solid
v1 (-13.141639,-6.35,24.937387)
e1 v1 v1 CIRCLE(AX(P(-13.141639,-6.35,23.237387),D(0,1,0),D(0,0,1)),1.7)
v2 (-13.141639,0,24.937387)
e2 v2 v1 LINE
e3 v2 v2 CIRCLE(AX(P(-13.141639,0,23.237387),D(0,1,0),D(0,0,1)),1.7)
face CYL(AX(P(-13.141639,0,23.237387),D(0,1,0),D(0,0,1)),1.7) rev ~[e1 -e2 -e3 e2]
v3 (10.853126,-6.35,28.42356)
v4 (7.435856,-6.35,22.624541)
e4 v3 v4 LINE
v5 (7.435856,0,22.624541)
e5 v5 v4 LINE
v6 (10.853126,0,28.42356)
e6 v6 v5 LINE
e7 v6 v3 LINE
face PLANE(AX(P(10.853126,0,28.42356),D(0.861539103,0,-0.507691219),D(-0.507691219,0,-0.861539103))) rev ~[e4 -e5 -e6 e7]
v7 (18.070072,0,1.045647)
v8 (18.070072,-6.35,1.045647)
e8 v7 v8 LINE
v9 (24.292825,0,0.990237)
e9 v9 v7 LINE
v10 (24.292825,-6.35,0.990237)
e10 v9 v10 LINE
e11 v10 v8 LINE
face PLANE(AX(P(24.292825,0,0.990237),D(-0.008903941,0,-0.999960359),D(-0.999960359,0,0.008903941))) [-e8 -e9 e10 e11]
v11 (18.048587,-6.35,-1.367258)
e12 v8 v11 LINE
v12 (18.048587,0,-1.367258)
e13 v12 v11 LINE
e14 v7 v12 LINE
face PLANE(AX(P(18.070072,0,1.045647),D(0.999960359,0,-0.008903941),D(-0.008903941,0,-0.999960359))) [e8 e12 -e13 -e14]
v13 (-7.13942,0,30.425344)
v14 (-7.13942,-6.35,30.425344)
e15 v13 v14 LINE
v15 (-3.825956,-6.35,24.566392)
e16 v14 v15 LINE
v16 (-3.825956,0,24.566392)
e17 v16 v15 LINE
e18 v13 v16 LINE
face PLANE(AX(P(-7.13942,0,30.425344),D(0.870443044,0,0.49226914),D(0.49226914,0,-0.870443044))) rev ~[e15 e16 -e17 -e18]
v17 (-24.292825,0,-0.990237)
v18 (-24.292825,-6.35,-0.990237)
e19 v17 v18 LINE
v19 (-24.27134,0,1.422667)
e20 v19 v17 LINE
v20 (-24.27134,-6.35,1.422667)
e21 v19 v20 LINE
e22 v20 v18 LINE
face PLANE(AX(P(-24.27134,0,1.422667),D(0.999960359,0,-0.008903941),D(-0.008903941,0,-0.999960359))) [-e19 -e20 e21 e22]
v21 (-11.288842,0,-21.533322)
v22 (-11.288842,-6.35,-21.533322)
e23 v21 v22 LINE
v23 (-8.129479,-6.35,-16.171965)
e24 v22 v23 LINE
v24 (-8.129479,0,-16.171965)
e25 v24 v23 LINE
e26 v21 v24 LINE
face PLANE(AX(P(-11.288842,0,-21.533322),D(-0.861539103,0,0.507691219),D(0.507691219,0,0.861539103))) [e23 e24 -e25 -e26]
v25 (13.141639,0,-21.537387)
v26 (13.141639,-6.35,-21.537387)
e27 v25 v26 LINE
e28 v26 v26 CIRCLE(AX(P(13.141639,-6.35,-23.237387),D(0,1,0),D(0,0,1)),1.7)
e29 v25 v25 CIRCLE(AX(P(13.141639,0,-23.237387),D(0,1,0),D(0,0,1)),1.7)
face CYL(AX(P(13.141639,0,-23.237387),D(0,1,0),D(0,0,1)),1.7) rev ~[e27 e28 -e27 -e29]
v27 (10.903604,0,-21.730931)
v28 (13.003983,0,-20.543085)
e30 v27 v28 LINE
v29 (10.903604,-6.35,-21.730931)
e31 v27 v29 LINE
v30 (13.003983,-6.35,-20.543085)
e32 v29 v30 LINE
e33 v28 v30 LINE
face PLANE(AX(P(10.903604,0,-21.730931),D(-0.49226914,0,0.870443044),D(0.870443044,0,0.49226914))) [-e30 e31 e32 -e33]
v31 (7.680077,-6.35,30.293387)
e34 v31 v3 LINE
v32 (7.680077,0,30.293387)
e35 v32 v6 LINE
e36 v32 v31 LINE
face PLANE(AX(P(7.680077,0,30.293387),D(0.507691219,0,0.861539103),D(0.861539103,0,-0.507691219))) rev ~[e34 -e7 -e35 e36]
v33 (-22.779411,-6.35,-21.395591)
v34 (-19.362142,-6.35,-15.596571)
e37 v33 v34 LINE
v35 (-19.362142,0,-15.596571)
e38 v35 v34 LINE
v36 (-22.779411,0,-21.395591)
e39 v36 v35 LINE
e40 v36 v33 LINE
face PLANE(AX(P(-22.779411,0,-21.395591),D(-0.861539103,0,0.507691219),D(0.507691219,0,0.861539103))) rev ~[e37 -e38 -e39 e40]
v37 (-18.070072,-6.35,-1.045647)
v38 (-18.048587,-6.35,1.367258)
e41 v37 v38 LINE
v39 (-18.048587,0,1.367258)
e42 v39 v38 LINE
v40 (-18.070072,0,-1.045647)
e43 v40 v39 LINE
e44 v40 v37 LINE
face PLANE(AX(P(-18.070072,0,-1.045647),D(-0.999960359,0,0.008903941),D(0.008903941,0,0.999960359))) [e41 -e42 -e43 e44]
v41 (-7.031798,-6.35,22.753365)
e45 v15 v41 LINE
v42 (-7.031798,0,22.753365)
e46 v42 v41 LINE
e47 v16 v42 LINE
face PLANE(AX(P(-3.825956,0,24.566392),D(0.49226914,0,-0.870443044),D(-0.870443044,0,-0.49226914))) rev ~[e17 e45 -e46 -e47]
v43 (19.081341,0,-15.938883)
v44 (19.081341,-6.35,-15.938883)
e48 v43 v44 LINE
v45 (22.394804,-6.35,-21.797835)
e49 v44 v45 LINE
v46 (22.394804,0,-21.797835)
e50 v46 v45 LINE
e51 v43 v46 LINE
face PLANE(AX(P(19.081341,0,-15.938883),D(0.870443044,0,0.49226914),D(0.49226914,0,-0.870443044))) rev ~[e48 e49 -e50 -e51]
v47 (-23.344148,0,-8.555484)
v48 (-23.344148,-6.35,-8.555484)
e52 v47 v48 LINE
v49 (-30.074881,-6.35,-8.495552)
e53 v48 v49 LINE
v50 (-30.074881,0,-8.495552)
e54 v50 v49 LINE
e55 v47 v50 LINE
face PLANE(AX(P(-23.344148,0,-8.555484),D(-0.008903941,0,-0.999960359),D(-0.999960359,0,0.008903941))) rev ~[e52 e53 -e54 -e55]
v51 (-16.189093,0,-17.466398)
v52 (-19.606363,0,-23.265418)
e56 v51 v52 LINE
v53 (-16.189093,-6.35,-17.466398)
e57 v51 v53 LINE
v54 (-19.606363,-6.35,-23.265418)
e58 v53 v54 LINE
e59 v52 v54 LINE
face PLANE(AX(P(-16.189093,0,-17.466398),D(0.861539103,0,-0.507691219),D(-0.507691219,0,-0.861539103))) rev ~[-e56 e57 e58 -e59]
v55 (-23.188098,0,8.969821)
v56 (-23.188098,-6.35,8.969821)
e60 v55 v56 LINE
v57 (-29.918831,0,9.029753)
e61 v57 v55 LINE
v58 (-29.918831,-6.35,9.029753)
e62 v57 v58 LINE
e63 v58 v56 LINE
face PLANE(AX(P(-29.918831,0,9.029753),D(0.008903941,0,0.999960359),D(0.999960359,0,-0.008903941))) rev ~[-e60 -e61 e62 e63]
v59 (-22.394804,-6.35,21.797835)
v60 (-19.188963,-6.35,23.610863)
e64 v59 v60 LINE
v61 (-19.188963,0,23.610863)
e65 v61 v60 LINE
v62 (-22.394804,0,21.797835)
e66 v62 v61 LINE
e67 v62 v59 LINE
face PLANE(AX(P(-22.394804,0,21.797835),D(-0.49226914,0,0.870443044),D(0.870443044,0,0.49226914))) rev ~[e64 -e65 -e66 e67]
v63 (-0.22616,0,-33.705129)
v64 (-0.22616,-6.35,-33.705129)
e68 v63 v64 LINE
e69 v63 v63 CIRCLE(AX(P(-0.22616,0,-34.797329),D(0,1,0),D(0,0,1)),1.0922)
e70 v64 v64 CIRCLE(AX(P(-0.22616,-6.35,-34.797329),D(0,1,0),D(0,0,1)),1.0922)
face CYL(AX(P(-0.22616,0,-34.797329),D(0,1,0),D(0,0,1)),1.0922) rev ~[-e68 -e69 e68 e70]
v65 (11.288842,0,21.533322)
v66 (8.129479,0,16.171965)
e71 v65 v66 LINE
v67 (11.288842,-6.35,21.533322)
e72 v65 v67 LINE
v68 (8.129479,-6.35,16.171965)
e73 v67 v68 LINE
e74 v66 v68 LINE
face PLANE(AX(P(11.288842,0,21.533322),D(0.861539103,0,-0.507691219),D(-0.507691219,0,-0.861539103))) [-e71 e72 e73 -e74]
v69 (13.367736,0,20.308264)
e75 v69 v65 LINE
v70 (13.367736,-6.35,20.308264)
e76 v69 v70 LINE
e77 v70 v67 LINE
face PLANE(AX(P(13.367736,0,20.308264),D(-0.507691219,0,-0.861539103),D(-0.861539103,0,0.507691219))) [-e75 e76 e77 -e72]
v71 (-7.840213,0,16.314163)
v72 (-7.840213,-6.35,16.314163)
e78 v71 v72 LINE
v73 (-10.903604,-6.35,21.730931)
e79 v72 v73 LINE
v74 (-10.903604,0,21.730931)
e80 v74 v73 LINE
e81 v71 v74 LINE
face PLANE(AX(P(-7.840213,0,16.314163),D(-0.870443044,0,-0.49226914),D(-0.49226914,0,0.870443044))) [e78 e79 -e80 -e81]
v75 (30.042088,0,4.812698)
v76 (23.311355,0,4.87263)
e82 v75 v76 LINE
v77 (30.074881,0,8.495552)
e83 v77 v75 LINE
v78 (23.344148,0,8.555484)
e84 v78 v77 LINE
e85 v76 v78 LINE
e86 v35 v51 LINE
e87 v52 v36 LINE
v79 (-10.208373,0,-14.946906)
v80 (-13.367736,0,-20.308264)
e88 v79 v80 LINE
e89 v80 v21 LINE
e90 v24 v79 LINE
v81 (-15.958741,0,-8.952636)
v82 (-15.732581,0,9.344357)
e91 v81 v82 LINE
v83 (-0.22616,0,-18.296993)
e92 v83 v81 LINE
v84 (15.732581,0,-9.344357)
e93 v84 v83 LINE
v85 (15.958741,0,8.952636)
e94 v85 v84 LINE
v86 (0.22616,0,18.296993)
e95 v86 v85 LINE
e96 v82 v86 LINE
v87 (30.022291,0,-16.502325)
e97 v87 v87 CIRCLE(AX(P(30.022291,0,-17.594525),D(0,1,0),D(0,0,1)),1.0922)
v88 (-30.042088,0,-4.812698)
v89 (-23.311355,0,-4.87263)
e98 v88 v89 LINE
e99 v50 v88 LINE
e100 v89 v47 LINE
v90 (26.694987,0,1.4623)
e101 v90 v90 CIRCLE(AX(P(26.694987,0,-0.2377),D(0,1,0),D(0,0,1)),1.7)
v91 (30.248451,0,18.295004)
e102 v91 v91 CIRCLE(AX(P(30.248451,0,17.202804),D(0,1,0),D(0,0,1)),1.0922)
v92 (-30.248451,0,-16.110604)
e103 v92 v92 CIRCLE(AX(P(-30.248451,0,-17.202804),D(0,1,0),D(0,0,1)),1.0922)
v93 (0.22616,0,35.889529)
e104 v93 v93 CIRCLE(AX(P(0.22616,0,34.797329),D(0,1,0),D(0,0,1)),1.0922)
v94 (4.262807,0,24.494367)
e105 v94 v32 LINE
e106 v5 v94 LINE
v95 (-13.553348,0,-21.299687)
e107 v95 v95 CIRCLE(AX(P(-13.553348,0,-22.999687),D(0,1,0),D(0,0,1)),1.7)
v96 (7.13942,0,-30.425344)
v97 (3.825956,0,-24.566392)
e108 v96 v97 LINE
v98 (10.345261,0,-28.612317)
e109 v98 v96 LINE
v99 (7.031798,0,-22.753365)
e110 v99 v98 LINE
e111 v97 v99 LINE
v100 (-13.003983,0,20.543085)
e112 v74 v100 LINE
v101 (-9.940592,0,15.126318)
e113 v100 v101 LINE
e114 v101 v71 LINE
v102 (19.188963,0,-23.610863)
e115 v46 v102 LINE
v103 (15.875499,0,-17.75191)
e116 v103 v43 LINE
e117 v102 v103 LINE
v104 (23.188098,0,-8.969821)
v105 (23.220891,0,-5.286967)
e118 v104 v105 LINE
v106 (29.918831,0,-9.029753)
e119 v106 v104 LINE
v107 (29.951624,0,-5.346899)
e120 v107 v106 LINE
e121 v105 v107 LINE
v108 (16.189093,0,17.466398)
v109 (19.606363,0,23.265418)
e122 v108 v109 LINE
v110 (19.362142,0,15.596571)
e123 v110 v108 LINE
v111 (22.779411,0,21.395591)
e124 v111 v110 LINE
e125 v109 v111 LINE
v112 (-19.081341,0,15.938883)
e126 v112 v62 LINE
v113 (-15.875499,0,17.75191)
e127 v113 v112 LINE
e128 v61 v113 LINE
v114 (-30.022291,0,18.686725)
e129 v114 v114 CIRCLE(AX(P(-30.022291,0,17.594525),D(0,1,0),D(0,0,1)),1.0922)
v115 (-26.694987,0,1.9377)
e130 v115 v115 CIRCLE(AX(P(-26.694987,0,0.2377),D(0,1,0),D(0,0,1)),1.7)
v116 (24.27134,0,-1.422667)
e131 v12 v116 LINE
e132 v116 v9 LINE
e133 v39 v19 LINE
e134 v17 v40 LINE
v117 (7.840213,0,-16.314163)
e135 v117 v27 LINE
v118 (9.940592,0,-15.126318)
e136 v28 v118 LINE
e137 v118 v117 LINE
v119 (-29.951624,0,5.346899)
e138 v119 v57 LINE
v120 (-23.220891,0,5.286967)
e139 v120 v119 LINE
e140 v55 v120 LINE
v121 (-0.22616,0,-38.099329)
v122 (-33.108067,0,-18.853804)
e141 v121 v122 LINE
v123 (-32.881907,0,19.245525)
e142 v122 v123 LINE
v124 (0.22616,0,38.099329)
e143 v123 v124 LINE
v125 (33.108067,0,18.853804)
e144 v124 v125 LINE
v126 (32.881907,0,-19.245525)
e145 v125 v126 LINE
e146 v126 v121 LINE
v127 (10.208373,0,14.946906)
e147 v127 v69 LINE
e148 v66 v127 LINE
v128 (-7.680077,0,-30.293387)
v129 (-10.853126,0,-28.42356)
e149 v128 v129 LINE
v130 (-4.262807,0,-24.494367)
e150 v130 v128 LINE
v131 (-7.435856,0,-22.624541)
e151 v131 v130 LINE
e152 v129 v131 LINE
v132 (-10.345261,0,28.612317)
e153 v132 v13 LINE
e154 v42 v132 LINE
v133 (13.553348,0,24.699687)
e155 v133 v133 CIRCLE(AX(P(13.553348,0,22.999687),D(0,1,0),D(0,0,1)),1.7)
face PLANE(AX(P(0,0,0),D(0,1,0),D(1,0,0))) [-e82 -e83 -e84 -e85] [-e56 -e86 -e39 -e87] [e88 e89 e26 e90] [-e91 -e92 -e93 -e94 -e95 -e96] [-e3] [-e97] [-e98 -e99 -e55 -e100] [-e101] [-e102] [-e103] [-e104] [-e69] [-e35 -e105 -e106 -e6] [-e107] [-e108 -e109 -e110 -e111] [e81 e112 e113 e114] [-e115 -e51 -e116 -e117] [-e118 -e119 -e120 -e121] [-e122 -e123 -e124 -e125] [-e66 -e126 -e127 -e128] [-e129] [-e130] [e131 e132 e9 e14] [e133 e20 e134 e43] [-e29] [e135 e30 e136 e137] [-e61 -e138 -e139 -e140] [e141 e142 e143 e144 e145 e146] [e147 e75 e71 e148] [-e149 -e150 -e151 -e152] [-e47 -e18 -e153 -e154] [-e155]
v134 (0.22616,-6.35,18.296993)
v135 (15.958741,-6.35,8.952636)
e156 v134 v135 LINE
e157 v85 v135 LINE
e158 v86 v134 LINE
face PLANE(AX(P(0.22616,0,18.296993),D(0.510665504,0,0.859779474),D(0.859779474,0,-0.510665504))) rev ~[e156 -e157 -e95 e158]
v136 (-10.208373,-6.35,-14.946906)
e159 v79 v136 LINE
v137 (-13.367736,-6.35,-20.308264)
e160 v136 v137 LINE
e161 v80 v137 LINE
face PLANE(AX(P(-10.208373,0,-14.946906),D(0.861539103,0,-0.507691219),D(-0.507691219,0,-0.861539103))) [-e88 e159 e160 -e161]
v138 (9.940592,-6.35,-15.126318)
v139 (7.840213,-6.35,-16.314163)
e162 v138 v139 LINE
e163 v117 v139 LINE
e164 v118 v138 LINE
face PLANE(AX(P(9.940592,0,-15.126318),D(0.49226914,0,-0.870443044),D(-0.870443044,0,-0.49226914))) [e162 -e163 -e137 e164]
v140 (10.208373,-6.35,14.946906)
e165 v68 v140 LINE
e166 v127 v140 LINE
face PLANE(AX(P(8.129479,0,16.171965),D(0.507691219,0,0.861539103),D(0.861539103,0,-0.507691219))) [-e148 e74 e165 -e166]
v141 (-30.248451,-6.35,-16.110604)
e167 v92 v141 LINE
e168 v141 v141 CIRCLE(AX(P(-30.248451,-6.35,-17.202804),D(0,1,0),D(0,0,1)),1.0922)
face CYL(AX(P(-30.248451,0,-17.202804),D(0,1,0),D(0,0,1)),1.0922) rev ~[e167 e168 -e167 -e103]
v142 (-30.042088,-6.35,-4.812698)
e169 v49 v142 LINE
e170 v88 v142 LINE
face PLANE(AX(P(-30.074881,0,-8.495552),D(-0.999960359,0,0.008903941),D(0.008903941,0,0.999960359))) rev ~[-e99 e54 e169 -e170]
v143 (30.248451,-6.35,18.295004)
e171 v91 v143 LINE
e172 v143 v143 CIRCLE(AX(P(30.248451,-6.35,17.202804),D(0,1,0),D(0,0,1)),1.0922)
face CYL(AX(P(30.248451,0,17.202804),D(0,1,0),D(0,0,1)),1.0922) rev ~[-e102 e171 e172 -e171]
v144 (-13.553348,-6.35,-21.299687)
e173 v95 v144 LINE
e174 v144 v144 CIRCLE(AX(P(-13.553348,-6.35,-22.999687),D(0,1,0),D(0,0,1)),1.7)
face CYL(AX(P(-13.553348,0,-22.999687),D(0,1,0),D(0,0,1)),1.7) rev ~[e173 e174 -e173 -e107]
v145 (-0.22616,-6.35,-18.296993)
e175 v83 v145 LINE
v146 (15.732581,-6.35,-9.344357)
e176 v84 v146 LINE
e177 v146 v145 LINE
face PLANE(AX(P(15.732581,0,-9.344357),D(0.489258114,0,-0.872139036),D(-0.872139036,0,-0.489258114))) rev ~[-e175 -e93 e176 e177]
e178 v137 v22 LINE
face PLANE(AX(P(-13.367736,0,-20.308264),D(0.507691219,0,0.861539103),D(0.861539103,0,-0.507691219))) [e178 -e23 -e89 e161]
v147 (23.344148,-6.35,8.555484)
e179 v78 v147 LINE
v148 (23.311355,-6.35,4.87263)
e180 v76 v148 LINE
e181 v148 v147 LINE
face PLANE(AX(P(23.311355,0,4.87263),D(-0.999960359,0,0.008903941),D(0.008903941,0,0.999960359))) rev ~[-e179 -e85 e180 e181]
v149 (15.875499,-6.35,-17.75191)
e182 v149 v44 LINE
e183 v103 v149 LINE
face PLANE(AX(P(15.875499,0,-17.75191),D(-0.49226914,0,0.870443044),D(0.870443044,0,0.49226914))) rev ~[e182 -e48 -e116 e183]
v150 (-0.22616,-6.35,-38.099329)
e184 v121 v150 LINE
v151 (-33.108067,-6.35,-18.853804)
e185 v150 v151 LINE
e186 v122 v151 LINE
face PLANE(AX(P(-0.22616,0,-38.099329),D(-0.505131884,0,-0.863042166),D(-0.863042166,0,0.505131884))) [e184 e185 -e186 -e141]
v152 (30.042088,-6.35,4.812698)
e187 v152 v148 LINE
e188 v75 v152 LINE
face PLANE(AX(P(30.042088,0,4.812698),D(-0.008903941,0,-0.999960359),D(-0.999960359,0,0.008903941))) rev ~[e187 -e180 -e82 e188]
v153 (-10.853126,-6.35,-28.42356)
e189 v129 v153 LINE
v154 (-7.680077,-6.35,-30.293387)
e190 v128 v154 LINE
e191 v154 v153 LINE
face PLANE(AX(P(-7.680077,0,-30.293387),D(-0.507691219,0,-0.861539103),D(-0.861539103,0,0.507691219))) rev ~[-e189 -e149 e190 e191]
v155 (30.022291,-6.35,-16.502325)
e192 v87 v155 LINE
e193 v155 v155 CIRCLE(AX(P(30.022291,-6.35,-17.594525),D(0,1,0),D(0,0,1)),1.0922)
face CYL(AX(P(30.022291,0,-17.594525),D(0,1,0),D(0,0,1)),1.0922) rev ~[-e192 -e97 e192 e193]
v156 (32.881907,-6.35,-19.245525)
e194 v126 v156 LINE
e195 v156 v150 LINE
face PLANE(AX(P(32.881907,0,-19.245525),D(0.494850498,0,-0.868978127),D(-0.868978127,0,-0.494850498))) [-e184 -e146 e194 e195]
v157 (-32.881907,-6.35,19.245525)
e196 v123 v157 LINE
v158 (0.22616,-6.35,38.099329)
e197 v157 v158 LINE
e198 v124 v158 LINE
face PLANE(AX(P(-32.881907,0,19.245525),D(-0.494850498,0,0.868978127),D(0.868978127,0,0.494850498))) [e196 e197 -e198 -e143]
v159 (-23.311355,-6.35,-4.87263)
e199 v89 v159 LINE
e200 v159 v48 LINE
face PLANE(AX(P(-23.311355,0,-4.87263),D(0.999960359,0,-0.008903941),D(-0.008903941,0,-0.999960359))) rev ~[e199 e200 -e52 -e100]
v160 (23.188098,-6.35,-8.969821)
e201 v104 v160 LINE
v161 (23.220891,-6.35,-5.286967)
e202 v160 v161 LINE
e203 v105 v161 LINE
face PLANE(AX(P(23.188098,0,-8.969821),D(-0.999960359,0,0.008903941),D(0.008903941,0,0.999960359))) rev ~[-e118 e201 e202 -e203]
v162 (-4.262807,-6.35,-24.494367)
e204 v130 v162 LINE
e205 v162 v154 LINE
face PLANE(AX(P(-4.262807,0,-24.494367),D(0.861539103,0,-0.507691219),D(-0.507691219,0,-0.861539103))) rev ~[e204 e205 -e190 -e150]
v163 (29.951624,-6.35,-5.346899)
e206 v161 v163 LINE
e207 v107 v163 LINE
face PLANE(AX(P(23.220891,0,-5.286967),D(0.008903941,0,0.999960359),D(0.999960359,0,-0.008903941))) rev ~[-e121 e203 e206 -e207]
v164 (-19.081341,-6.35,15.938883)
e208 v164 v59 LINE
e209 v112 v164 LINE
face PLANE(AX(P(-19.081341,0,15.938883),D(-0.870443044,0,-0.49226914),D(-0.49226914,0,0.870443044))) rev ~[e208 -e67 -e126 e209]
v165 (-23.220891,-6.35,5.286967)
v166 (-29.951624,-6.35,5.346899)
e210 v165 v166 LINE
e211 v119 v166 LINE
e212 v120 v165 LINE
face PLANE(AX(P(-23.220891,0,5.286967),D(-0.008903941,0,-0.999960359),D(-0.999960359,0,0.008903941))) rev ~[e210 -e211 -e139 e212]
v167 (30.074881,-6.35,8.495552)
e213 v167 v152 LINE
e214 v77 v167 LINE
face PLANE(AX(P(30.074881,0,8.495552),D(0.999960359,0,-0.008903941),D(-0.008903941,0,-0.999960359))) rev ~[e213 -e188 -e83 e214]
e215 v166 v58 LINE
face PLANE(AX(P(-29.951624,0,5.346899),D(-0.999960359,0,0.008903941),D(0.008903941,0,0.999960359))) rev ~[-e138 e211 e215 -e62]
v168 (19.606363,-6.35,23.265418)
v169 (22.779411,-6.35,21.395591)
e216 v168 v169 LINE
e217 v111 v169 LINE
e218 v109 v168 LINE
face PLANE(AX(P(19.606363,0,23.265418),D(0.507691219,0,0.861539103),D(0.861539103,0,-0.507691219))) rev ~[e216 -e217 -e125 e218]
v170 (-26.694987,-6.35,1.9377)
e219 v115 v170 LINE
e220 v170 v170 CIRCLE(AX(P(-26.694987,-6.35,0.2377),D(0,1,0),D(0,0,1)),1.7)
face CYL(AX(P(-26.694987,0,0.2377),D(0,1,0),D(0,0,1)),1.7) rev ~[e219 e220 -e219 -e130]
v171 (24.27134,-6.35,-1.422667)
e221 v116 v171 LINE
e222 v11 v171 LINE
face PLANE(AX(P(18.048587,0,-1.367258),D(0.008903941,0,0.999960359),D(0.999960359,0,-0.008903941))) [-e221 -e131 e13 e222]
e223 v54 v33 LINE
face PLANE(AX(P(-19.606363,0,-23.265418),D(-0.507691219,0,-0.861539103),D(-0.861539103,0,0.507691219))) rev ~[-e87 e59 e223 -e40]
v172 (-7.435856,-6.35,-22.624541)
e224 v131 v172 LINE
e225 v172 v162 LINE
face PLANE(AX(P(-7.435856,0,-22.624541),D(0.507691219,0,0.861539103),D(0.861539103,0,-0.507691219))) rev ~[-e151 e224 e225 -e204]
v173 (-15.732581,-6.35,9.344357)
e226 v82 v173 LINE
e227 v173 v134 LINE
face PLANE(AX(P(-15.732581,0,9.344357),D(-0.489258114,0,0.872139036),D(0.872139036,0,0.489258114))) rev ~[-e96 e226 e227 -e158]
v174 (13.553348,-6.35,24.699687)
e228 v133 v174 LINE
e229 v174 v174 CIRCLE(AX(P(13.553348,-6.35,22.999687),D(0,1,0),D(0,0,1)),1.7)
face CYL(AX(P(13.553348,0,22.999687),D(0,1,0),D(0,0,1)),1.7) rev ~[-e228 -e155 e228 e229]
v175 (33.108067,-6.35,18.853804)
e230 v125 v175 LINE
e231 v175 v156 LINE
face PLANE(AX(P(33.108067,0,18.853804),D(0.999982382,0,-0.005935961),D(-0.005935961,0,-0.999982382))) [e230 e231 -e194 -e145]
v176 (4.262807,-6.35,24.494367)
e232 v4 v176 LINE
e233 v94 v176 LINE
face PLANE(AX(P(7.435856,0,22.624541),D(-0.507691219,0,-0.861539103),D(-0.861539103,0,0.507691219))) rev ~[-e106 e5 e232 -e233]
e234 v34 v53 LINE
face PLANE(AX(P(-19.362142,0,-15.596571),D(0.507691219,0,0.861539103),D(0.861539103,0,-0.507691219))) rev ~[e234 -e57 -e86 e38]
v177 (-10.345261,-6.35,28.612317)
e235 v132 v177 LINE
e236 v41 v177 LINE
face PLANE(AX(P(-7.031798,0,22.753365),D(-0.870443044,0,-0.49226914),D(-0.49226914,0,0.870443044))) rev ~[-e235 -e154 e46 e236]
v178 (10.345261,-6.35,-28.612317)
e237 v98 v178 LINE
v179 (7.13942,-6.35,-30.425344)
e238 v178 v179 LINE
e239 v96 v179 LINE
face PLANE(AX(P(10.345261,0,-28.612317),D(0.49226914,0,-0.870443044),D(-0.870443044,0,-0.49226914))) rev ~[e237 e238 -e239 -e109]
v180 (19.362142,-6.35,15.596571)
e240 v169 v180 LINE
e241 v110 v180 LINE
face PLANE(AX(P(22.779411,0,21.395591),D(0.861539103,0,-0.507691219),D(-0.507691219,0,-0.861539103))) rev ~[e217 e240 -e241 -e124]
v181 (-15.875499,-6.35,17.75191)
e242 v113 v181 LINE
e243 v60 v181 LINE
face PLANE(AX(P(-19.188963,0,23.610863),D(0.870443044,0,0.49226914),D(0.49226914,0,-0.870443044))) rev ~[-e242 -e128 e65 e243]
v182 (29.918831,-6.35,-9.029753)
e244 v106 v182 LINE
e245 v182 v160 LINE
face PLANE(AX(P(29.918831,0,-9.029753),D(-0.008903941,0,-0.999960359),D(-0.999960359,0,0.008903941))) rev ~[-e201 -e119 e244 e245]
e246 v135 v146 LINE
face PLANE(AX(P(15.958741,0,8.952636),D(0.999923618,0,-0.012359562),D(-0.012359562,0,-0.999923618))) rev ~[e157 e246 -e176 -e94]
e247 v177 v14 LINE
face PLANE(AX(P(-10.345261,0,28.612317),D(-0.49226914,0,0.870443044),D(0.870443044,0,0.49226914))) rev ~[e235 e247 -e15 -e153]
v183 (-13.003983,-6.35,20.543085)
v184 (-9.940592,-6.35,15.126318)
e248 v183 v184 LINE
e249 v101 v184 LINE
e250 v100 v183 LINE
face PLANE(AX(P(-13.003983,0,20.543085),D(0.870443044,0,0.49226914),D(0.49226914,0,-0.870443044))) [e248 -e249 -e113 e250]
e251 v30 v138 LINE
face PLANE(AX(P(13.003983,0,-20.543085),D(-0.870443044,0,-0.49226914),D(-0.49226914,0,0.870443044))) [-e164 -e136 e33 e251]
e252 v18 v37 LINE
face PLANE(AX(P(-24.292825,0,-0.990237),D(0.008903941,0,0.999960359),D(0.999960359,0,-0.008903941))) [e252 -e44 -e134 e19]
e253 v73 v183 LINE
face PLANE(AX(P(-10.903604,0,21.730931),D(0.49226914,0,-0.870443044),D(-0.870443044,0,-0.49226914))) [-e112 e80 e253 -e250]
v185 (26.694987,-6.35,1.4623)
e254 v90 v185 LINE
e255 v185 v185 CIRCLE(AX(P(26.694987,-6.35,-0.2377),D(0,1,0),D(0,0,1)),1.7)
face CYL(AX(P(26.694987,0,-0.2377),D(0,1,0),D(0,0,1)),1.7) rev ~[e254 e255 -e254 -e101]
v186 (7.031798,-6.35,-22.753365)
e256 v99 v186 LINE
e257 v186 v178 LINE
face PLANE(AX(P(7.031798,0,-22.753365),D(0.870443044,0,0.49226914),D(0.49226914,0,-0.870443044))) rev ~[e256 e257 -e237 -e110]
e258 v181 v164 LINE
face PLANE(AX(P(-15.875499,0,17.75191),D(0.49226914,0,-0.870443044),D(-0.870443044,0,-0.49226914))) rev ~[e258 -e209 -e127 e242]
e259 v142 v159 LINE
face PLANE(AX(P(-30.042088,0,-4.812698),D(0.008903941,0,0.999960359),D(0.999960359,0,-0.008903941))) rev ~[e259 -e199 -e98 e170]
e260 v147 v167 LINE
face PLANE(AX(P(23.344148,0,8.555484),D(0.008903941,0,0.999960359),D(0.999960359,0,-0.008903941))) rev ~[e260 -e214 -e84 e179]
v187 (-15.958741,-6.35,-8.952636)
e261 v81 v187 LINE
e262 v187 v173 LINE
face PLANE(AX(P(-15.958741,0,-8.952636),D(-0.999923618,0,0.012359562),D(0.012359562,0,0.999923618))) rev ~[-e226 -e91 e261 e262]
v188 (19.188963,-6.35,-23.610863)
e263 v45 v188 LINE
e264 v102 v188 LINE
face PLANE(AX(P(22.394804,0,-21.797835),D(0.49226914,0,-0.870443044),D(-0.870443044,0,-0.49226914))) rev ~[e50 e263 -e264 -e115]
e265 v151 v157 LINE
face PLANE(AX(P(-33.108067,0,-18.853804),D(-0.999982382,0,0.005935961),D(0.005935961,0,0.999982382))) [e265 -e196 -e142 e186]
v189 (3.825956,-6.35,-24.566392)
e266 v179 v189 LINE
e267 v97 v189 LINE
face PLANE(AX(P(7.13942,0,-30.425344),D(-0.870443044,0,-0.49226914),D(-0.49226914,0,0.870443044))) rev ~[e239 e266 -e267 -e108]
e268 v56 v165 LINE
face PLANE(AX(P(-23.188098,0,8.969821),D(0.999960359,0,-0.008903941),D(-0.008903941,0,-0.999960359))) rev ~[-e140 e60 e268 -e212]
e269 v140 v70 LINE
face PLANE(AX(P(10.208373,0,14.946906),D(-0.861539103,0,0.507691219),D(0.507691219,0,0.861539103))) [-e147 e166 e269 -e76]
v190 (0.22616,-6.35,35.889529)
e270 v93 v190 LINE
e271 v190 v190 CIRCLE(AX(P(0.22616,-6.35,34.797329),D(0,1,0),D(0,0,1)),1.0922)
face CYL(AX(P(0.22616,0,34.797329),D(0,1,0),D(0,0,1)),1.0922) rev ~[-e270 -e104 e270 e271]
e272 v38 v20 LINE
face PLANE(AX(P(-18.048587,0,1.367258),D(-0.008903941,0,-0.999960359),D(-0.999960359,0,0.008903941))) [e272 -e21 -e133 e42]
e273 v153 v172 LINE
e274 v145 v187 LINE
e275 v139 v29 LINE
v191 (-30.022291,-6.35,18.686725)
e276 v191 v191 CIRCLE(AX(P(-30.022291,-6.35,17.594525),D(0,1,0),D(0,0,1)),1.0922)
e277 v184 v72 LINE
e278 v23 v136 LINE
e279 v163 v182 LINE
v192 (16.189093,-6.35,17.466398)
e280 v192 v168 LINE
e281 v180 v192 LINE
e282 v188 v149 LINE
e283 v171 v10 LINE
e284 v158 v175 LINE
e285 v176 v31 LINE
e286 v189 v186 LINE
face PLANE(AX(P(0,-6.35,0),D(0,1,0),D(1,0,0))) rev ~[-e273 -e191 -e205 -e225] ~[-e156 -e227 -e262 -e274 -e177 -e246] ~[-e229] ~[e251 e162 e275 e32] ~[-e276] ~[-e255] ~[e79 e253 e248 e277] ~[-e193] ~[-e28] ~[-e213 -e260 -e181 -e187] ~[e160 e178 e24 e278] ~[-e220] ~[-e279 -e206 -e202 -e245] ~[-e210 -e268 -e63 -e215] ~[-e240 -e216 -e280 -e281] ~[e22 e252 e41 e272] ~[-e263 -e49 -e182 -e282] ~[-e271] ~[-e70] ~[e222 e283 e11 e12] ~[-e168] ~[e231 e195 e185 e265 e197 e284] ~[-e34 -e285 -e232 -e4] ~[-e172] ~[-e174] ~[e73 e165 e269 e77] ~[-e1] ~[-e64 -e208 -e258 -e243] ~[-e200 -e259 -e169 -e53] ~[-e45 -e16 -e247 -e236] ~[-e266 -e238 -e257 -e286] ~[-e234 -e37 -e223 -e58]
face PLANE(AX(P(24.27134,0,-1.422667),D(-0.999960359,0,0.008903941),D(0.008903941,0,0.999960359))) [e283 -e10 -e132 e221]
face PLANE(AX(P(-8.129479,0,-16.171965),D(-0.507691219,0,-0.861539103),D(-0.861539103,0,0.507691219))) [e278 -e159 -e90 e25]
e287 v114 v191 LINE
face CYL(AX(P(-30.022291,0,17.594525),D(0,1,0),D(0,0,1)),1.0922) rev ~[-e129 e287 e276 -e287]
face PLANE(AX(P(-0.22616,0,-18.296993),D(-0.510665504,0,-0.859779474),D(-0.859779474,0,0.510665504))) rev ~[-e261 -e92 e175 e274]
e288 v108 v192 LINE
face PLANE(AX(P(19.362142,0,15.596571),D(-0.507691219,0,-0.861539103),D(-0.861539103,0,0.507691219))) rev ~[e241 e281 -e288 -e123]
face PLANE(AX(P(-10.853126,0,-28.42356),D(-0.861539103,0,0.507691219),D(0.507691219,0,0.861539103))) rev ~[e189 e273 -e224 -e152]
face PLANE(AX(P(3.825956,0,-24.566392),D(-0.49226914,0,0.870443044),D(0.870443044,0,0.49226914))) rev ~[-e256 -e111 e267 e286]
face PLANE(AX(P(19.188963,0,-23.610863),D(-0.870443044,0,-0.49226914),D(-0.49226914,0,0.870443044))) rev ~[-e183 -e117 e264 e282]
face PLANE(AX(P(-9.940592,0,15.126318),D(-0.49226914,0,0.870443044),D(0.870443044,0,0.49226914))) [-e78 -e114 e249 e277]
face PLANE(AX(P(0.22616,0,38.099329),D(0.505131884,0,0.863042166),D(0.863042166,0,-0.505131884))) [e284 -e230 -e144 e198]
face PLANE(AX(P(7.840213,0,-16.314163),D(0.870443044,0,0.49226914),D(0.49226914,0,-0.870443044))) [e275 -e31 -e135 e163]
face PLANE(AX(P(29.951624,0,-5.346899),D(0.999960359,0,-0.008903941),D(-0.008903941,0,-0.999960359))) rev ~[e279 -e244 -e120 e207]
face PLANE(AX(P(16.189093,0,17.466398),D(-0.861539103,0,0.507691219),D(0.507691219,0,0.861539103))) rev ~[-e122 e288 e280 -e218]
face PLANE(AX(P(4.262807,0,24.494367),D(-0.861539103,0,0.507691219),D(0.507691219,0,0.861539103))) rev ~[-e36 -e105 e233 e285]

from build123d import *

# Parameters (mm, degrees)
SKETCH1_R           = 1.7
SKETCH1_R_2         = 1.0922
BOSS_EXTRUDE1_DEPTH = 6.35


with BuildPart() as part:
    # Sketch1 → Boss-Extrude1 (new body)
    with BuildSketch(Plane(origin=(0, 0, 0), x_dir=(1, 0, 0), z_dir=(0, 1, 0))):
        Polygon((33.108066621, -18.853803983), (32.881906518, 19.245524772), (-0.226160103, 38.099328755), (-33.108066621, 18.853803983), (-32.881906518, -19.245524772), (0.226160103, -38.099328755), align=None)
        Polygon((18.048586735, 1.367257752), (24.27134005, 1.422666977), (24.29282526, -0.990237369), (18.070071945, -1.045646595), align=None, mode=Mode.SUBTRACT)
        Polygon((10.208373314, -14.946905739), (13.367735769, -20.308263579), (11.288841912, -21.53332249), (8.129479458, -16.17196465), align=None, mode=Mode.SUBTRACT)
        Polygon((-7.840213421, -16.314163491), (-10.903604282, -21.730930556), (-13.003983348, -20.54308512), (-9.940592487, -15.126318055), align=None, mode=Mode.SUBTRACT)
        Polygon((-18.048586735, -1.367257752), (-24.27134005, -1.422666977), (-24.29282526, 0.990237369), (-18.070071945, 1.045646595), align=None, mode=Mode.SUBTRACT)
        Polygon((-10.208373314, 14.946905739), (-13.367735769, 20.308263579), (-11.288841912, 21.53332249), (-8.129479458, 16.17196465), align=None, mode=Mode.SUBTRACT)
        Polygon((7.840213421, 16.314163491), (10.903604282, 21.730930556), (13.003983348, 20.54308512), (9.940592487, 15.126318055), align=None, mode=Mode.SUBTRACT)
        Polygon((-0.226160103, 18.296993457), (15.732581095, 9.344357123), (15.958741198, -8.952636334), (0.226160103, -18.296993457), (-15.732581095, -9.344357123), (-15.958741198, 8.952636334), align=None, mode=Mode.SUBTRACT)
        Polygon((-19.081340765, -15.938883228), (-15.875499033, -17.751910472), (-19.188962617, -23.610862603), (-22.394804349, -21.797835359), align=None, mode=Mode.SUBTRACT)
        with Locations((-13.14163925, -23.237386904)):
            Circle(SKETCH1_R, mode=Mode.SUBTRACT)
        Polygon((-7.031797703, -22.753364938), (-3.825955971, -24.566392182), (-7.139419555, -30.425344314), (-10.345261287, -28.61231707), align=None, mode=Mode.SUBTRACT)
        with Locations((-30.022290634, -17.594524772)):
            Circle(SKETCH1_R_2, mode=Mode.SUBTRACT)
        Polygon((-23.22089091, -5.286967024), (-23.188097695, -8.969821027), (-29.918830872, -9.029753454), (-29.951624087, -5.346899452), align=None, mode=Mode.SUBTRACT)
        with Locations((-26.694987002, -0.237700014)):
            Circle(SKETCH1_R, mode=Mode.SUBTRACT)
        with Locations((0.226160103, -34.797328755)):
            Circle(SKETCH1_R_2, mode=Mode.SUBTRACT)
        Polygon((4.262807401, -24.494367455), (7.435855918, -22.624540696), (10.853125511, -28.4235604), (7.680076994, -30.293387159), align=None, mode=Mode.SUBTRACT)
        with Locations((13.553347751, -22.99968689)):
            Circle(SKETCH1_R, mode=Mode.SUBTRACT)
        Polygon((16.189093207, -17.466397914), (19.362141724, -15.596571155), (22.779411317, -21.395590859), (19.6063628, -23.265417618), align=None, mode=Mode.SUBTRACT)
        with Locations((30.248450738, -17.202803983)):
            Circle(SKETCH1_R_2, mode=Mode.SUBTRACT)
        Polygon((23.344148166, -8.555484227), (23.311354951, -4.872630224), (30.042088128, -4.812697797), (30.074881343, -8.4955518), align=None, mode=Mode.SUBTRACT)
        Polygon((-23.344148166, 8.555484227), (-23.311354951, 4.872630224), (-30.042088128, 4.812697797), (-30.074881343, 8.4955518), align=None, mode=Mode.SUBTRACT)
        with Locations((-30.248450738, 17.202803983)):
            Circle(SKETCH1_R_2, mode=Mode.SUBTRACT)
        Polygon((-16.189093207, 17.466397914), (-19.362141724, 15.596571155), (-22.779411317, 21.395590859), (-19.6063628, 23.265417618), align=None, mode=Mode.SUBTRACT)
        with Locations((-13.553347751, 22.99968689)):
            Circle(SKETCH1_R, mode=Mode.SUBTRACT)
        Polygon((-7.435855918, 22.624540696), (-10.853125511, 28.4235604), (-7.680076994, 30.293387159), (-4.262807401, 24.494367455), align=None, mode=Mode.SUBTRACT)
        with Locations((-0.226160103, 34.797328755)):
            Circle(SKETCH1_R_2, mode=Mode.SUBTRACT)
        Polygon((29.918830872, 9.029753454), (29.951624087, 5.346899452), (23.22089091, 5.286967024), (23.188097695, 8.969821027), align=None, mode=Mode.SUBTRACT)
        with Locations((30.022290634, 17.594524772)):
            Circle(SKETCH1_R_2, mode=Mode.SUBTRACT)
        Polygon((7.031797703, 22.753364938), (3.825955971, 24.566392182), (7.139419555, 30.425344314), (10.345261287, 28.61231707), align=None, mode=Mode.SUBTRACT)
        with Locations((13.14163925, 23.237386904)):
            Circle(SKETCH1_R, mode=Mode.SUBTRACT)
        Polygon((19.081340765, 15.938883228), (15.875499033, 17.751910472), (19.188962617, 23.610862603), (22.394804349, 21.797835359), align=None, mode=Mode.SUBTRACT)
        with Locations((26.694987002, 0.237700014)):
            Circle(SKETCH1_R, mode=Mode.SUBTRACT)
    extrude(amount=-BOSS_EXTRUDE1_DEPTH)


solid = part.part
